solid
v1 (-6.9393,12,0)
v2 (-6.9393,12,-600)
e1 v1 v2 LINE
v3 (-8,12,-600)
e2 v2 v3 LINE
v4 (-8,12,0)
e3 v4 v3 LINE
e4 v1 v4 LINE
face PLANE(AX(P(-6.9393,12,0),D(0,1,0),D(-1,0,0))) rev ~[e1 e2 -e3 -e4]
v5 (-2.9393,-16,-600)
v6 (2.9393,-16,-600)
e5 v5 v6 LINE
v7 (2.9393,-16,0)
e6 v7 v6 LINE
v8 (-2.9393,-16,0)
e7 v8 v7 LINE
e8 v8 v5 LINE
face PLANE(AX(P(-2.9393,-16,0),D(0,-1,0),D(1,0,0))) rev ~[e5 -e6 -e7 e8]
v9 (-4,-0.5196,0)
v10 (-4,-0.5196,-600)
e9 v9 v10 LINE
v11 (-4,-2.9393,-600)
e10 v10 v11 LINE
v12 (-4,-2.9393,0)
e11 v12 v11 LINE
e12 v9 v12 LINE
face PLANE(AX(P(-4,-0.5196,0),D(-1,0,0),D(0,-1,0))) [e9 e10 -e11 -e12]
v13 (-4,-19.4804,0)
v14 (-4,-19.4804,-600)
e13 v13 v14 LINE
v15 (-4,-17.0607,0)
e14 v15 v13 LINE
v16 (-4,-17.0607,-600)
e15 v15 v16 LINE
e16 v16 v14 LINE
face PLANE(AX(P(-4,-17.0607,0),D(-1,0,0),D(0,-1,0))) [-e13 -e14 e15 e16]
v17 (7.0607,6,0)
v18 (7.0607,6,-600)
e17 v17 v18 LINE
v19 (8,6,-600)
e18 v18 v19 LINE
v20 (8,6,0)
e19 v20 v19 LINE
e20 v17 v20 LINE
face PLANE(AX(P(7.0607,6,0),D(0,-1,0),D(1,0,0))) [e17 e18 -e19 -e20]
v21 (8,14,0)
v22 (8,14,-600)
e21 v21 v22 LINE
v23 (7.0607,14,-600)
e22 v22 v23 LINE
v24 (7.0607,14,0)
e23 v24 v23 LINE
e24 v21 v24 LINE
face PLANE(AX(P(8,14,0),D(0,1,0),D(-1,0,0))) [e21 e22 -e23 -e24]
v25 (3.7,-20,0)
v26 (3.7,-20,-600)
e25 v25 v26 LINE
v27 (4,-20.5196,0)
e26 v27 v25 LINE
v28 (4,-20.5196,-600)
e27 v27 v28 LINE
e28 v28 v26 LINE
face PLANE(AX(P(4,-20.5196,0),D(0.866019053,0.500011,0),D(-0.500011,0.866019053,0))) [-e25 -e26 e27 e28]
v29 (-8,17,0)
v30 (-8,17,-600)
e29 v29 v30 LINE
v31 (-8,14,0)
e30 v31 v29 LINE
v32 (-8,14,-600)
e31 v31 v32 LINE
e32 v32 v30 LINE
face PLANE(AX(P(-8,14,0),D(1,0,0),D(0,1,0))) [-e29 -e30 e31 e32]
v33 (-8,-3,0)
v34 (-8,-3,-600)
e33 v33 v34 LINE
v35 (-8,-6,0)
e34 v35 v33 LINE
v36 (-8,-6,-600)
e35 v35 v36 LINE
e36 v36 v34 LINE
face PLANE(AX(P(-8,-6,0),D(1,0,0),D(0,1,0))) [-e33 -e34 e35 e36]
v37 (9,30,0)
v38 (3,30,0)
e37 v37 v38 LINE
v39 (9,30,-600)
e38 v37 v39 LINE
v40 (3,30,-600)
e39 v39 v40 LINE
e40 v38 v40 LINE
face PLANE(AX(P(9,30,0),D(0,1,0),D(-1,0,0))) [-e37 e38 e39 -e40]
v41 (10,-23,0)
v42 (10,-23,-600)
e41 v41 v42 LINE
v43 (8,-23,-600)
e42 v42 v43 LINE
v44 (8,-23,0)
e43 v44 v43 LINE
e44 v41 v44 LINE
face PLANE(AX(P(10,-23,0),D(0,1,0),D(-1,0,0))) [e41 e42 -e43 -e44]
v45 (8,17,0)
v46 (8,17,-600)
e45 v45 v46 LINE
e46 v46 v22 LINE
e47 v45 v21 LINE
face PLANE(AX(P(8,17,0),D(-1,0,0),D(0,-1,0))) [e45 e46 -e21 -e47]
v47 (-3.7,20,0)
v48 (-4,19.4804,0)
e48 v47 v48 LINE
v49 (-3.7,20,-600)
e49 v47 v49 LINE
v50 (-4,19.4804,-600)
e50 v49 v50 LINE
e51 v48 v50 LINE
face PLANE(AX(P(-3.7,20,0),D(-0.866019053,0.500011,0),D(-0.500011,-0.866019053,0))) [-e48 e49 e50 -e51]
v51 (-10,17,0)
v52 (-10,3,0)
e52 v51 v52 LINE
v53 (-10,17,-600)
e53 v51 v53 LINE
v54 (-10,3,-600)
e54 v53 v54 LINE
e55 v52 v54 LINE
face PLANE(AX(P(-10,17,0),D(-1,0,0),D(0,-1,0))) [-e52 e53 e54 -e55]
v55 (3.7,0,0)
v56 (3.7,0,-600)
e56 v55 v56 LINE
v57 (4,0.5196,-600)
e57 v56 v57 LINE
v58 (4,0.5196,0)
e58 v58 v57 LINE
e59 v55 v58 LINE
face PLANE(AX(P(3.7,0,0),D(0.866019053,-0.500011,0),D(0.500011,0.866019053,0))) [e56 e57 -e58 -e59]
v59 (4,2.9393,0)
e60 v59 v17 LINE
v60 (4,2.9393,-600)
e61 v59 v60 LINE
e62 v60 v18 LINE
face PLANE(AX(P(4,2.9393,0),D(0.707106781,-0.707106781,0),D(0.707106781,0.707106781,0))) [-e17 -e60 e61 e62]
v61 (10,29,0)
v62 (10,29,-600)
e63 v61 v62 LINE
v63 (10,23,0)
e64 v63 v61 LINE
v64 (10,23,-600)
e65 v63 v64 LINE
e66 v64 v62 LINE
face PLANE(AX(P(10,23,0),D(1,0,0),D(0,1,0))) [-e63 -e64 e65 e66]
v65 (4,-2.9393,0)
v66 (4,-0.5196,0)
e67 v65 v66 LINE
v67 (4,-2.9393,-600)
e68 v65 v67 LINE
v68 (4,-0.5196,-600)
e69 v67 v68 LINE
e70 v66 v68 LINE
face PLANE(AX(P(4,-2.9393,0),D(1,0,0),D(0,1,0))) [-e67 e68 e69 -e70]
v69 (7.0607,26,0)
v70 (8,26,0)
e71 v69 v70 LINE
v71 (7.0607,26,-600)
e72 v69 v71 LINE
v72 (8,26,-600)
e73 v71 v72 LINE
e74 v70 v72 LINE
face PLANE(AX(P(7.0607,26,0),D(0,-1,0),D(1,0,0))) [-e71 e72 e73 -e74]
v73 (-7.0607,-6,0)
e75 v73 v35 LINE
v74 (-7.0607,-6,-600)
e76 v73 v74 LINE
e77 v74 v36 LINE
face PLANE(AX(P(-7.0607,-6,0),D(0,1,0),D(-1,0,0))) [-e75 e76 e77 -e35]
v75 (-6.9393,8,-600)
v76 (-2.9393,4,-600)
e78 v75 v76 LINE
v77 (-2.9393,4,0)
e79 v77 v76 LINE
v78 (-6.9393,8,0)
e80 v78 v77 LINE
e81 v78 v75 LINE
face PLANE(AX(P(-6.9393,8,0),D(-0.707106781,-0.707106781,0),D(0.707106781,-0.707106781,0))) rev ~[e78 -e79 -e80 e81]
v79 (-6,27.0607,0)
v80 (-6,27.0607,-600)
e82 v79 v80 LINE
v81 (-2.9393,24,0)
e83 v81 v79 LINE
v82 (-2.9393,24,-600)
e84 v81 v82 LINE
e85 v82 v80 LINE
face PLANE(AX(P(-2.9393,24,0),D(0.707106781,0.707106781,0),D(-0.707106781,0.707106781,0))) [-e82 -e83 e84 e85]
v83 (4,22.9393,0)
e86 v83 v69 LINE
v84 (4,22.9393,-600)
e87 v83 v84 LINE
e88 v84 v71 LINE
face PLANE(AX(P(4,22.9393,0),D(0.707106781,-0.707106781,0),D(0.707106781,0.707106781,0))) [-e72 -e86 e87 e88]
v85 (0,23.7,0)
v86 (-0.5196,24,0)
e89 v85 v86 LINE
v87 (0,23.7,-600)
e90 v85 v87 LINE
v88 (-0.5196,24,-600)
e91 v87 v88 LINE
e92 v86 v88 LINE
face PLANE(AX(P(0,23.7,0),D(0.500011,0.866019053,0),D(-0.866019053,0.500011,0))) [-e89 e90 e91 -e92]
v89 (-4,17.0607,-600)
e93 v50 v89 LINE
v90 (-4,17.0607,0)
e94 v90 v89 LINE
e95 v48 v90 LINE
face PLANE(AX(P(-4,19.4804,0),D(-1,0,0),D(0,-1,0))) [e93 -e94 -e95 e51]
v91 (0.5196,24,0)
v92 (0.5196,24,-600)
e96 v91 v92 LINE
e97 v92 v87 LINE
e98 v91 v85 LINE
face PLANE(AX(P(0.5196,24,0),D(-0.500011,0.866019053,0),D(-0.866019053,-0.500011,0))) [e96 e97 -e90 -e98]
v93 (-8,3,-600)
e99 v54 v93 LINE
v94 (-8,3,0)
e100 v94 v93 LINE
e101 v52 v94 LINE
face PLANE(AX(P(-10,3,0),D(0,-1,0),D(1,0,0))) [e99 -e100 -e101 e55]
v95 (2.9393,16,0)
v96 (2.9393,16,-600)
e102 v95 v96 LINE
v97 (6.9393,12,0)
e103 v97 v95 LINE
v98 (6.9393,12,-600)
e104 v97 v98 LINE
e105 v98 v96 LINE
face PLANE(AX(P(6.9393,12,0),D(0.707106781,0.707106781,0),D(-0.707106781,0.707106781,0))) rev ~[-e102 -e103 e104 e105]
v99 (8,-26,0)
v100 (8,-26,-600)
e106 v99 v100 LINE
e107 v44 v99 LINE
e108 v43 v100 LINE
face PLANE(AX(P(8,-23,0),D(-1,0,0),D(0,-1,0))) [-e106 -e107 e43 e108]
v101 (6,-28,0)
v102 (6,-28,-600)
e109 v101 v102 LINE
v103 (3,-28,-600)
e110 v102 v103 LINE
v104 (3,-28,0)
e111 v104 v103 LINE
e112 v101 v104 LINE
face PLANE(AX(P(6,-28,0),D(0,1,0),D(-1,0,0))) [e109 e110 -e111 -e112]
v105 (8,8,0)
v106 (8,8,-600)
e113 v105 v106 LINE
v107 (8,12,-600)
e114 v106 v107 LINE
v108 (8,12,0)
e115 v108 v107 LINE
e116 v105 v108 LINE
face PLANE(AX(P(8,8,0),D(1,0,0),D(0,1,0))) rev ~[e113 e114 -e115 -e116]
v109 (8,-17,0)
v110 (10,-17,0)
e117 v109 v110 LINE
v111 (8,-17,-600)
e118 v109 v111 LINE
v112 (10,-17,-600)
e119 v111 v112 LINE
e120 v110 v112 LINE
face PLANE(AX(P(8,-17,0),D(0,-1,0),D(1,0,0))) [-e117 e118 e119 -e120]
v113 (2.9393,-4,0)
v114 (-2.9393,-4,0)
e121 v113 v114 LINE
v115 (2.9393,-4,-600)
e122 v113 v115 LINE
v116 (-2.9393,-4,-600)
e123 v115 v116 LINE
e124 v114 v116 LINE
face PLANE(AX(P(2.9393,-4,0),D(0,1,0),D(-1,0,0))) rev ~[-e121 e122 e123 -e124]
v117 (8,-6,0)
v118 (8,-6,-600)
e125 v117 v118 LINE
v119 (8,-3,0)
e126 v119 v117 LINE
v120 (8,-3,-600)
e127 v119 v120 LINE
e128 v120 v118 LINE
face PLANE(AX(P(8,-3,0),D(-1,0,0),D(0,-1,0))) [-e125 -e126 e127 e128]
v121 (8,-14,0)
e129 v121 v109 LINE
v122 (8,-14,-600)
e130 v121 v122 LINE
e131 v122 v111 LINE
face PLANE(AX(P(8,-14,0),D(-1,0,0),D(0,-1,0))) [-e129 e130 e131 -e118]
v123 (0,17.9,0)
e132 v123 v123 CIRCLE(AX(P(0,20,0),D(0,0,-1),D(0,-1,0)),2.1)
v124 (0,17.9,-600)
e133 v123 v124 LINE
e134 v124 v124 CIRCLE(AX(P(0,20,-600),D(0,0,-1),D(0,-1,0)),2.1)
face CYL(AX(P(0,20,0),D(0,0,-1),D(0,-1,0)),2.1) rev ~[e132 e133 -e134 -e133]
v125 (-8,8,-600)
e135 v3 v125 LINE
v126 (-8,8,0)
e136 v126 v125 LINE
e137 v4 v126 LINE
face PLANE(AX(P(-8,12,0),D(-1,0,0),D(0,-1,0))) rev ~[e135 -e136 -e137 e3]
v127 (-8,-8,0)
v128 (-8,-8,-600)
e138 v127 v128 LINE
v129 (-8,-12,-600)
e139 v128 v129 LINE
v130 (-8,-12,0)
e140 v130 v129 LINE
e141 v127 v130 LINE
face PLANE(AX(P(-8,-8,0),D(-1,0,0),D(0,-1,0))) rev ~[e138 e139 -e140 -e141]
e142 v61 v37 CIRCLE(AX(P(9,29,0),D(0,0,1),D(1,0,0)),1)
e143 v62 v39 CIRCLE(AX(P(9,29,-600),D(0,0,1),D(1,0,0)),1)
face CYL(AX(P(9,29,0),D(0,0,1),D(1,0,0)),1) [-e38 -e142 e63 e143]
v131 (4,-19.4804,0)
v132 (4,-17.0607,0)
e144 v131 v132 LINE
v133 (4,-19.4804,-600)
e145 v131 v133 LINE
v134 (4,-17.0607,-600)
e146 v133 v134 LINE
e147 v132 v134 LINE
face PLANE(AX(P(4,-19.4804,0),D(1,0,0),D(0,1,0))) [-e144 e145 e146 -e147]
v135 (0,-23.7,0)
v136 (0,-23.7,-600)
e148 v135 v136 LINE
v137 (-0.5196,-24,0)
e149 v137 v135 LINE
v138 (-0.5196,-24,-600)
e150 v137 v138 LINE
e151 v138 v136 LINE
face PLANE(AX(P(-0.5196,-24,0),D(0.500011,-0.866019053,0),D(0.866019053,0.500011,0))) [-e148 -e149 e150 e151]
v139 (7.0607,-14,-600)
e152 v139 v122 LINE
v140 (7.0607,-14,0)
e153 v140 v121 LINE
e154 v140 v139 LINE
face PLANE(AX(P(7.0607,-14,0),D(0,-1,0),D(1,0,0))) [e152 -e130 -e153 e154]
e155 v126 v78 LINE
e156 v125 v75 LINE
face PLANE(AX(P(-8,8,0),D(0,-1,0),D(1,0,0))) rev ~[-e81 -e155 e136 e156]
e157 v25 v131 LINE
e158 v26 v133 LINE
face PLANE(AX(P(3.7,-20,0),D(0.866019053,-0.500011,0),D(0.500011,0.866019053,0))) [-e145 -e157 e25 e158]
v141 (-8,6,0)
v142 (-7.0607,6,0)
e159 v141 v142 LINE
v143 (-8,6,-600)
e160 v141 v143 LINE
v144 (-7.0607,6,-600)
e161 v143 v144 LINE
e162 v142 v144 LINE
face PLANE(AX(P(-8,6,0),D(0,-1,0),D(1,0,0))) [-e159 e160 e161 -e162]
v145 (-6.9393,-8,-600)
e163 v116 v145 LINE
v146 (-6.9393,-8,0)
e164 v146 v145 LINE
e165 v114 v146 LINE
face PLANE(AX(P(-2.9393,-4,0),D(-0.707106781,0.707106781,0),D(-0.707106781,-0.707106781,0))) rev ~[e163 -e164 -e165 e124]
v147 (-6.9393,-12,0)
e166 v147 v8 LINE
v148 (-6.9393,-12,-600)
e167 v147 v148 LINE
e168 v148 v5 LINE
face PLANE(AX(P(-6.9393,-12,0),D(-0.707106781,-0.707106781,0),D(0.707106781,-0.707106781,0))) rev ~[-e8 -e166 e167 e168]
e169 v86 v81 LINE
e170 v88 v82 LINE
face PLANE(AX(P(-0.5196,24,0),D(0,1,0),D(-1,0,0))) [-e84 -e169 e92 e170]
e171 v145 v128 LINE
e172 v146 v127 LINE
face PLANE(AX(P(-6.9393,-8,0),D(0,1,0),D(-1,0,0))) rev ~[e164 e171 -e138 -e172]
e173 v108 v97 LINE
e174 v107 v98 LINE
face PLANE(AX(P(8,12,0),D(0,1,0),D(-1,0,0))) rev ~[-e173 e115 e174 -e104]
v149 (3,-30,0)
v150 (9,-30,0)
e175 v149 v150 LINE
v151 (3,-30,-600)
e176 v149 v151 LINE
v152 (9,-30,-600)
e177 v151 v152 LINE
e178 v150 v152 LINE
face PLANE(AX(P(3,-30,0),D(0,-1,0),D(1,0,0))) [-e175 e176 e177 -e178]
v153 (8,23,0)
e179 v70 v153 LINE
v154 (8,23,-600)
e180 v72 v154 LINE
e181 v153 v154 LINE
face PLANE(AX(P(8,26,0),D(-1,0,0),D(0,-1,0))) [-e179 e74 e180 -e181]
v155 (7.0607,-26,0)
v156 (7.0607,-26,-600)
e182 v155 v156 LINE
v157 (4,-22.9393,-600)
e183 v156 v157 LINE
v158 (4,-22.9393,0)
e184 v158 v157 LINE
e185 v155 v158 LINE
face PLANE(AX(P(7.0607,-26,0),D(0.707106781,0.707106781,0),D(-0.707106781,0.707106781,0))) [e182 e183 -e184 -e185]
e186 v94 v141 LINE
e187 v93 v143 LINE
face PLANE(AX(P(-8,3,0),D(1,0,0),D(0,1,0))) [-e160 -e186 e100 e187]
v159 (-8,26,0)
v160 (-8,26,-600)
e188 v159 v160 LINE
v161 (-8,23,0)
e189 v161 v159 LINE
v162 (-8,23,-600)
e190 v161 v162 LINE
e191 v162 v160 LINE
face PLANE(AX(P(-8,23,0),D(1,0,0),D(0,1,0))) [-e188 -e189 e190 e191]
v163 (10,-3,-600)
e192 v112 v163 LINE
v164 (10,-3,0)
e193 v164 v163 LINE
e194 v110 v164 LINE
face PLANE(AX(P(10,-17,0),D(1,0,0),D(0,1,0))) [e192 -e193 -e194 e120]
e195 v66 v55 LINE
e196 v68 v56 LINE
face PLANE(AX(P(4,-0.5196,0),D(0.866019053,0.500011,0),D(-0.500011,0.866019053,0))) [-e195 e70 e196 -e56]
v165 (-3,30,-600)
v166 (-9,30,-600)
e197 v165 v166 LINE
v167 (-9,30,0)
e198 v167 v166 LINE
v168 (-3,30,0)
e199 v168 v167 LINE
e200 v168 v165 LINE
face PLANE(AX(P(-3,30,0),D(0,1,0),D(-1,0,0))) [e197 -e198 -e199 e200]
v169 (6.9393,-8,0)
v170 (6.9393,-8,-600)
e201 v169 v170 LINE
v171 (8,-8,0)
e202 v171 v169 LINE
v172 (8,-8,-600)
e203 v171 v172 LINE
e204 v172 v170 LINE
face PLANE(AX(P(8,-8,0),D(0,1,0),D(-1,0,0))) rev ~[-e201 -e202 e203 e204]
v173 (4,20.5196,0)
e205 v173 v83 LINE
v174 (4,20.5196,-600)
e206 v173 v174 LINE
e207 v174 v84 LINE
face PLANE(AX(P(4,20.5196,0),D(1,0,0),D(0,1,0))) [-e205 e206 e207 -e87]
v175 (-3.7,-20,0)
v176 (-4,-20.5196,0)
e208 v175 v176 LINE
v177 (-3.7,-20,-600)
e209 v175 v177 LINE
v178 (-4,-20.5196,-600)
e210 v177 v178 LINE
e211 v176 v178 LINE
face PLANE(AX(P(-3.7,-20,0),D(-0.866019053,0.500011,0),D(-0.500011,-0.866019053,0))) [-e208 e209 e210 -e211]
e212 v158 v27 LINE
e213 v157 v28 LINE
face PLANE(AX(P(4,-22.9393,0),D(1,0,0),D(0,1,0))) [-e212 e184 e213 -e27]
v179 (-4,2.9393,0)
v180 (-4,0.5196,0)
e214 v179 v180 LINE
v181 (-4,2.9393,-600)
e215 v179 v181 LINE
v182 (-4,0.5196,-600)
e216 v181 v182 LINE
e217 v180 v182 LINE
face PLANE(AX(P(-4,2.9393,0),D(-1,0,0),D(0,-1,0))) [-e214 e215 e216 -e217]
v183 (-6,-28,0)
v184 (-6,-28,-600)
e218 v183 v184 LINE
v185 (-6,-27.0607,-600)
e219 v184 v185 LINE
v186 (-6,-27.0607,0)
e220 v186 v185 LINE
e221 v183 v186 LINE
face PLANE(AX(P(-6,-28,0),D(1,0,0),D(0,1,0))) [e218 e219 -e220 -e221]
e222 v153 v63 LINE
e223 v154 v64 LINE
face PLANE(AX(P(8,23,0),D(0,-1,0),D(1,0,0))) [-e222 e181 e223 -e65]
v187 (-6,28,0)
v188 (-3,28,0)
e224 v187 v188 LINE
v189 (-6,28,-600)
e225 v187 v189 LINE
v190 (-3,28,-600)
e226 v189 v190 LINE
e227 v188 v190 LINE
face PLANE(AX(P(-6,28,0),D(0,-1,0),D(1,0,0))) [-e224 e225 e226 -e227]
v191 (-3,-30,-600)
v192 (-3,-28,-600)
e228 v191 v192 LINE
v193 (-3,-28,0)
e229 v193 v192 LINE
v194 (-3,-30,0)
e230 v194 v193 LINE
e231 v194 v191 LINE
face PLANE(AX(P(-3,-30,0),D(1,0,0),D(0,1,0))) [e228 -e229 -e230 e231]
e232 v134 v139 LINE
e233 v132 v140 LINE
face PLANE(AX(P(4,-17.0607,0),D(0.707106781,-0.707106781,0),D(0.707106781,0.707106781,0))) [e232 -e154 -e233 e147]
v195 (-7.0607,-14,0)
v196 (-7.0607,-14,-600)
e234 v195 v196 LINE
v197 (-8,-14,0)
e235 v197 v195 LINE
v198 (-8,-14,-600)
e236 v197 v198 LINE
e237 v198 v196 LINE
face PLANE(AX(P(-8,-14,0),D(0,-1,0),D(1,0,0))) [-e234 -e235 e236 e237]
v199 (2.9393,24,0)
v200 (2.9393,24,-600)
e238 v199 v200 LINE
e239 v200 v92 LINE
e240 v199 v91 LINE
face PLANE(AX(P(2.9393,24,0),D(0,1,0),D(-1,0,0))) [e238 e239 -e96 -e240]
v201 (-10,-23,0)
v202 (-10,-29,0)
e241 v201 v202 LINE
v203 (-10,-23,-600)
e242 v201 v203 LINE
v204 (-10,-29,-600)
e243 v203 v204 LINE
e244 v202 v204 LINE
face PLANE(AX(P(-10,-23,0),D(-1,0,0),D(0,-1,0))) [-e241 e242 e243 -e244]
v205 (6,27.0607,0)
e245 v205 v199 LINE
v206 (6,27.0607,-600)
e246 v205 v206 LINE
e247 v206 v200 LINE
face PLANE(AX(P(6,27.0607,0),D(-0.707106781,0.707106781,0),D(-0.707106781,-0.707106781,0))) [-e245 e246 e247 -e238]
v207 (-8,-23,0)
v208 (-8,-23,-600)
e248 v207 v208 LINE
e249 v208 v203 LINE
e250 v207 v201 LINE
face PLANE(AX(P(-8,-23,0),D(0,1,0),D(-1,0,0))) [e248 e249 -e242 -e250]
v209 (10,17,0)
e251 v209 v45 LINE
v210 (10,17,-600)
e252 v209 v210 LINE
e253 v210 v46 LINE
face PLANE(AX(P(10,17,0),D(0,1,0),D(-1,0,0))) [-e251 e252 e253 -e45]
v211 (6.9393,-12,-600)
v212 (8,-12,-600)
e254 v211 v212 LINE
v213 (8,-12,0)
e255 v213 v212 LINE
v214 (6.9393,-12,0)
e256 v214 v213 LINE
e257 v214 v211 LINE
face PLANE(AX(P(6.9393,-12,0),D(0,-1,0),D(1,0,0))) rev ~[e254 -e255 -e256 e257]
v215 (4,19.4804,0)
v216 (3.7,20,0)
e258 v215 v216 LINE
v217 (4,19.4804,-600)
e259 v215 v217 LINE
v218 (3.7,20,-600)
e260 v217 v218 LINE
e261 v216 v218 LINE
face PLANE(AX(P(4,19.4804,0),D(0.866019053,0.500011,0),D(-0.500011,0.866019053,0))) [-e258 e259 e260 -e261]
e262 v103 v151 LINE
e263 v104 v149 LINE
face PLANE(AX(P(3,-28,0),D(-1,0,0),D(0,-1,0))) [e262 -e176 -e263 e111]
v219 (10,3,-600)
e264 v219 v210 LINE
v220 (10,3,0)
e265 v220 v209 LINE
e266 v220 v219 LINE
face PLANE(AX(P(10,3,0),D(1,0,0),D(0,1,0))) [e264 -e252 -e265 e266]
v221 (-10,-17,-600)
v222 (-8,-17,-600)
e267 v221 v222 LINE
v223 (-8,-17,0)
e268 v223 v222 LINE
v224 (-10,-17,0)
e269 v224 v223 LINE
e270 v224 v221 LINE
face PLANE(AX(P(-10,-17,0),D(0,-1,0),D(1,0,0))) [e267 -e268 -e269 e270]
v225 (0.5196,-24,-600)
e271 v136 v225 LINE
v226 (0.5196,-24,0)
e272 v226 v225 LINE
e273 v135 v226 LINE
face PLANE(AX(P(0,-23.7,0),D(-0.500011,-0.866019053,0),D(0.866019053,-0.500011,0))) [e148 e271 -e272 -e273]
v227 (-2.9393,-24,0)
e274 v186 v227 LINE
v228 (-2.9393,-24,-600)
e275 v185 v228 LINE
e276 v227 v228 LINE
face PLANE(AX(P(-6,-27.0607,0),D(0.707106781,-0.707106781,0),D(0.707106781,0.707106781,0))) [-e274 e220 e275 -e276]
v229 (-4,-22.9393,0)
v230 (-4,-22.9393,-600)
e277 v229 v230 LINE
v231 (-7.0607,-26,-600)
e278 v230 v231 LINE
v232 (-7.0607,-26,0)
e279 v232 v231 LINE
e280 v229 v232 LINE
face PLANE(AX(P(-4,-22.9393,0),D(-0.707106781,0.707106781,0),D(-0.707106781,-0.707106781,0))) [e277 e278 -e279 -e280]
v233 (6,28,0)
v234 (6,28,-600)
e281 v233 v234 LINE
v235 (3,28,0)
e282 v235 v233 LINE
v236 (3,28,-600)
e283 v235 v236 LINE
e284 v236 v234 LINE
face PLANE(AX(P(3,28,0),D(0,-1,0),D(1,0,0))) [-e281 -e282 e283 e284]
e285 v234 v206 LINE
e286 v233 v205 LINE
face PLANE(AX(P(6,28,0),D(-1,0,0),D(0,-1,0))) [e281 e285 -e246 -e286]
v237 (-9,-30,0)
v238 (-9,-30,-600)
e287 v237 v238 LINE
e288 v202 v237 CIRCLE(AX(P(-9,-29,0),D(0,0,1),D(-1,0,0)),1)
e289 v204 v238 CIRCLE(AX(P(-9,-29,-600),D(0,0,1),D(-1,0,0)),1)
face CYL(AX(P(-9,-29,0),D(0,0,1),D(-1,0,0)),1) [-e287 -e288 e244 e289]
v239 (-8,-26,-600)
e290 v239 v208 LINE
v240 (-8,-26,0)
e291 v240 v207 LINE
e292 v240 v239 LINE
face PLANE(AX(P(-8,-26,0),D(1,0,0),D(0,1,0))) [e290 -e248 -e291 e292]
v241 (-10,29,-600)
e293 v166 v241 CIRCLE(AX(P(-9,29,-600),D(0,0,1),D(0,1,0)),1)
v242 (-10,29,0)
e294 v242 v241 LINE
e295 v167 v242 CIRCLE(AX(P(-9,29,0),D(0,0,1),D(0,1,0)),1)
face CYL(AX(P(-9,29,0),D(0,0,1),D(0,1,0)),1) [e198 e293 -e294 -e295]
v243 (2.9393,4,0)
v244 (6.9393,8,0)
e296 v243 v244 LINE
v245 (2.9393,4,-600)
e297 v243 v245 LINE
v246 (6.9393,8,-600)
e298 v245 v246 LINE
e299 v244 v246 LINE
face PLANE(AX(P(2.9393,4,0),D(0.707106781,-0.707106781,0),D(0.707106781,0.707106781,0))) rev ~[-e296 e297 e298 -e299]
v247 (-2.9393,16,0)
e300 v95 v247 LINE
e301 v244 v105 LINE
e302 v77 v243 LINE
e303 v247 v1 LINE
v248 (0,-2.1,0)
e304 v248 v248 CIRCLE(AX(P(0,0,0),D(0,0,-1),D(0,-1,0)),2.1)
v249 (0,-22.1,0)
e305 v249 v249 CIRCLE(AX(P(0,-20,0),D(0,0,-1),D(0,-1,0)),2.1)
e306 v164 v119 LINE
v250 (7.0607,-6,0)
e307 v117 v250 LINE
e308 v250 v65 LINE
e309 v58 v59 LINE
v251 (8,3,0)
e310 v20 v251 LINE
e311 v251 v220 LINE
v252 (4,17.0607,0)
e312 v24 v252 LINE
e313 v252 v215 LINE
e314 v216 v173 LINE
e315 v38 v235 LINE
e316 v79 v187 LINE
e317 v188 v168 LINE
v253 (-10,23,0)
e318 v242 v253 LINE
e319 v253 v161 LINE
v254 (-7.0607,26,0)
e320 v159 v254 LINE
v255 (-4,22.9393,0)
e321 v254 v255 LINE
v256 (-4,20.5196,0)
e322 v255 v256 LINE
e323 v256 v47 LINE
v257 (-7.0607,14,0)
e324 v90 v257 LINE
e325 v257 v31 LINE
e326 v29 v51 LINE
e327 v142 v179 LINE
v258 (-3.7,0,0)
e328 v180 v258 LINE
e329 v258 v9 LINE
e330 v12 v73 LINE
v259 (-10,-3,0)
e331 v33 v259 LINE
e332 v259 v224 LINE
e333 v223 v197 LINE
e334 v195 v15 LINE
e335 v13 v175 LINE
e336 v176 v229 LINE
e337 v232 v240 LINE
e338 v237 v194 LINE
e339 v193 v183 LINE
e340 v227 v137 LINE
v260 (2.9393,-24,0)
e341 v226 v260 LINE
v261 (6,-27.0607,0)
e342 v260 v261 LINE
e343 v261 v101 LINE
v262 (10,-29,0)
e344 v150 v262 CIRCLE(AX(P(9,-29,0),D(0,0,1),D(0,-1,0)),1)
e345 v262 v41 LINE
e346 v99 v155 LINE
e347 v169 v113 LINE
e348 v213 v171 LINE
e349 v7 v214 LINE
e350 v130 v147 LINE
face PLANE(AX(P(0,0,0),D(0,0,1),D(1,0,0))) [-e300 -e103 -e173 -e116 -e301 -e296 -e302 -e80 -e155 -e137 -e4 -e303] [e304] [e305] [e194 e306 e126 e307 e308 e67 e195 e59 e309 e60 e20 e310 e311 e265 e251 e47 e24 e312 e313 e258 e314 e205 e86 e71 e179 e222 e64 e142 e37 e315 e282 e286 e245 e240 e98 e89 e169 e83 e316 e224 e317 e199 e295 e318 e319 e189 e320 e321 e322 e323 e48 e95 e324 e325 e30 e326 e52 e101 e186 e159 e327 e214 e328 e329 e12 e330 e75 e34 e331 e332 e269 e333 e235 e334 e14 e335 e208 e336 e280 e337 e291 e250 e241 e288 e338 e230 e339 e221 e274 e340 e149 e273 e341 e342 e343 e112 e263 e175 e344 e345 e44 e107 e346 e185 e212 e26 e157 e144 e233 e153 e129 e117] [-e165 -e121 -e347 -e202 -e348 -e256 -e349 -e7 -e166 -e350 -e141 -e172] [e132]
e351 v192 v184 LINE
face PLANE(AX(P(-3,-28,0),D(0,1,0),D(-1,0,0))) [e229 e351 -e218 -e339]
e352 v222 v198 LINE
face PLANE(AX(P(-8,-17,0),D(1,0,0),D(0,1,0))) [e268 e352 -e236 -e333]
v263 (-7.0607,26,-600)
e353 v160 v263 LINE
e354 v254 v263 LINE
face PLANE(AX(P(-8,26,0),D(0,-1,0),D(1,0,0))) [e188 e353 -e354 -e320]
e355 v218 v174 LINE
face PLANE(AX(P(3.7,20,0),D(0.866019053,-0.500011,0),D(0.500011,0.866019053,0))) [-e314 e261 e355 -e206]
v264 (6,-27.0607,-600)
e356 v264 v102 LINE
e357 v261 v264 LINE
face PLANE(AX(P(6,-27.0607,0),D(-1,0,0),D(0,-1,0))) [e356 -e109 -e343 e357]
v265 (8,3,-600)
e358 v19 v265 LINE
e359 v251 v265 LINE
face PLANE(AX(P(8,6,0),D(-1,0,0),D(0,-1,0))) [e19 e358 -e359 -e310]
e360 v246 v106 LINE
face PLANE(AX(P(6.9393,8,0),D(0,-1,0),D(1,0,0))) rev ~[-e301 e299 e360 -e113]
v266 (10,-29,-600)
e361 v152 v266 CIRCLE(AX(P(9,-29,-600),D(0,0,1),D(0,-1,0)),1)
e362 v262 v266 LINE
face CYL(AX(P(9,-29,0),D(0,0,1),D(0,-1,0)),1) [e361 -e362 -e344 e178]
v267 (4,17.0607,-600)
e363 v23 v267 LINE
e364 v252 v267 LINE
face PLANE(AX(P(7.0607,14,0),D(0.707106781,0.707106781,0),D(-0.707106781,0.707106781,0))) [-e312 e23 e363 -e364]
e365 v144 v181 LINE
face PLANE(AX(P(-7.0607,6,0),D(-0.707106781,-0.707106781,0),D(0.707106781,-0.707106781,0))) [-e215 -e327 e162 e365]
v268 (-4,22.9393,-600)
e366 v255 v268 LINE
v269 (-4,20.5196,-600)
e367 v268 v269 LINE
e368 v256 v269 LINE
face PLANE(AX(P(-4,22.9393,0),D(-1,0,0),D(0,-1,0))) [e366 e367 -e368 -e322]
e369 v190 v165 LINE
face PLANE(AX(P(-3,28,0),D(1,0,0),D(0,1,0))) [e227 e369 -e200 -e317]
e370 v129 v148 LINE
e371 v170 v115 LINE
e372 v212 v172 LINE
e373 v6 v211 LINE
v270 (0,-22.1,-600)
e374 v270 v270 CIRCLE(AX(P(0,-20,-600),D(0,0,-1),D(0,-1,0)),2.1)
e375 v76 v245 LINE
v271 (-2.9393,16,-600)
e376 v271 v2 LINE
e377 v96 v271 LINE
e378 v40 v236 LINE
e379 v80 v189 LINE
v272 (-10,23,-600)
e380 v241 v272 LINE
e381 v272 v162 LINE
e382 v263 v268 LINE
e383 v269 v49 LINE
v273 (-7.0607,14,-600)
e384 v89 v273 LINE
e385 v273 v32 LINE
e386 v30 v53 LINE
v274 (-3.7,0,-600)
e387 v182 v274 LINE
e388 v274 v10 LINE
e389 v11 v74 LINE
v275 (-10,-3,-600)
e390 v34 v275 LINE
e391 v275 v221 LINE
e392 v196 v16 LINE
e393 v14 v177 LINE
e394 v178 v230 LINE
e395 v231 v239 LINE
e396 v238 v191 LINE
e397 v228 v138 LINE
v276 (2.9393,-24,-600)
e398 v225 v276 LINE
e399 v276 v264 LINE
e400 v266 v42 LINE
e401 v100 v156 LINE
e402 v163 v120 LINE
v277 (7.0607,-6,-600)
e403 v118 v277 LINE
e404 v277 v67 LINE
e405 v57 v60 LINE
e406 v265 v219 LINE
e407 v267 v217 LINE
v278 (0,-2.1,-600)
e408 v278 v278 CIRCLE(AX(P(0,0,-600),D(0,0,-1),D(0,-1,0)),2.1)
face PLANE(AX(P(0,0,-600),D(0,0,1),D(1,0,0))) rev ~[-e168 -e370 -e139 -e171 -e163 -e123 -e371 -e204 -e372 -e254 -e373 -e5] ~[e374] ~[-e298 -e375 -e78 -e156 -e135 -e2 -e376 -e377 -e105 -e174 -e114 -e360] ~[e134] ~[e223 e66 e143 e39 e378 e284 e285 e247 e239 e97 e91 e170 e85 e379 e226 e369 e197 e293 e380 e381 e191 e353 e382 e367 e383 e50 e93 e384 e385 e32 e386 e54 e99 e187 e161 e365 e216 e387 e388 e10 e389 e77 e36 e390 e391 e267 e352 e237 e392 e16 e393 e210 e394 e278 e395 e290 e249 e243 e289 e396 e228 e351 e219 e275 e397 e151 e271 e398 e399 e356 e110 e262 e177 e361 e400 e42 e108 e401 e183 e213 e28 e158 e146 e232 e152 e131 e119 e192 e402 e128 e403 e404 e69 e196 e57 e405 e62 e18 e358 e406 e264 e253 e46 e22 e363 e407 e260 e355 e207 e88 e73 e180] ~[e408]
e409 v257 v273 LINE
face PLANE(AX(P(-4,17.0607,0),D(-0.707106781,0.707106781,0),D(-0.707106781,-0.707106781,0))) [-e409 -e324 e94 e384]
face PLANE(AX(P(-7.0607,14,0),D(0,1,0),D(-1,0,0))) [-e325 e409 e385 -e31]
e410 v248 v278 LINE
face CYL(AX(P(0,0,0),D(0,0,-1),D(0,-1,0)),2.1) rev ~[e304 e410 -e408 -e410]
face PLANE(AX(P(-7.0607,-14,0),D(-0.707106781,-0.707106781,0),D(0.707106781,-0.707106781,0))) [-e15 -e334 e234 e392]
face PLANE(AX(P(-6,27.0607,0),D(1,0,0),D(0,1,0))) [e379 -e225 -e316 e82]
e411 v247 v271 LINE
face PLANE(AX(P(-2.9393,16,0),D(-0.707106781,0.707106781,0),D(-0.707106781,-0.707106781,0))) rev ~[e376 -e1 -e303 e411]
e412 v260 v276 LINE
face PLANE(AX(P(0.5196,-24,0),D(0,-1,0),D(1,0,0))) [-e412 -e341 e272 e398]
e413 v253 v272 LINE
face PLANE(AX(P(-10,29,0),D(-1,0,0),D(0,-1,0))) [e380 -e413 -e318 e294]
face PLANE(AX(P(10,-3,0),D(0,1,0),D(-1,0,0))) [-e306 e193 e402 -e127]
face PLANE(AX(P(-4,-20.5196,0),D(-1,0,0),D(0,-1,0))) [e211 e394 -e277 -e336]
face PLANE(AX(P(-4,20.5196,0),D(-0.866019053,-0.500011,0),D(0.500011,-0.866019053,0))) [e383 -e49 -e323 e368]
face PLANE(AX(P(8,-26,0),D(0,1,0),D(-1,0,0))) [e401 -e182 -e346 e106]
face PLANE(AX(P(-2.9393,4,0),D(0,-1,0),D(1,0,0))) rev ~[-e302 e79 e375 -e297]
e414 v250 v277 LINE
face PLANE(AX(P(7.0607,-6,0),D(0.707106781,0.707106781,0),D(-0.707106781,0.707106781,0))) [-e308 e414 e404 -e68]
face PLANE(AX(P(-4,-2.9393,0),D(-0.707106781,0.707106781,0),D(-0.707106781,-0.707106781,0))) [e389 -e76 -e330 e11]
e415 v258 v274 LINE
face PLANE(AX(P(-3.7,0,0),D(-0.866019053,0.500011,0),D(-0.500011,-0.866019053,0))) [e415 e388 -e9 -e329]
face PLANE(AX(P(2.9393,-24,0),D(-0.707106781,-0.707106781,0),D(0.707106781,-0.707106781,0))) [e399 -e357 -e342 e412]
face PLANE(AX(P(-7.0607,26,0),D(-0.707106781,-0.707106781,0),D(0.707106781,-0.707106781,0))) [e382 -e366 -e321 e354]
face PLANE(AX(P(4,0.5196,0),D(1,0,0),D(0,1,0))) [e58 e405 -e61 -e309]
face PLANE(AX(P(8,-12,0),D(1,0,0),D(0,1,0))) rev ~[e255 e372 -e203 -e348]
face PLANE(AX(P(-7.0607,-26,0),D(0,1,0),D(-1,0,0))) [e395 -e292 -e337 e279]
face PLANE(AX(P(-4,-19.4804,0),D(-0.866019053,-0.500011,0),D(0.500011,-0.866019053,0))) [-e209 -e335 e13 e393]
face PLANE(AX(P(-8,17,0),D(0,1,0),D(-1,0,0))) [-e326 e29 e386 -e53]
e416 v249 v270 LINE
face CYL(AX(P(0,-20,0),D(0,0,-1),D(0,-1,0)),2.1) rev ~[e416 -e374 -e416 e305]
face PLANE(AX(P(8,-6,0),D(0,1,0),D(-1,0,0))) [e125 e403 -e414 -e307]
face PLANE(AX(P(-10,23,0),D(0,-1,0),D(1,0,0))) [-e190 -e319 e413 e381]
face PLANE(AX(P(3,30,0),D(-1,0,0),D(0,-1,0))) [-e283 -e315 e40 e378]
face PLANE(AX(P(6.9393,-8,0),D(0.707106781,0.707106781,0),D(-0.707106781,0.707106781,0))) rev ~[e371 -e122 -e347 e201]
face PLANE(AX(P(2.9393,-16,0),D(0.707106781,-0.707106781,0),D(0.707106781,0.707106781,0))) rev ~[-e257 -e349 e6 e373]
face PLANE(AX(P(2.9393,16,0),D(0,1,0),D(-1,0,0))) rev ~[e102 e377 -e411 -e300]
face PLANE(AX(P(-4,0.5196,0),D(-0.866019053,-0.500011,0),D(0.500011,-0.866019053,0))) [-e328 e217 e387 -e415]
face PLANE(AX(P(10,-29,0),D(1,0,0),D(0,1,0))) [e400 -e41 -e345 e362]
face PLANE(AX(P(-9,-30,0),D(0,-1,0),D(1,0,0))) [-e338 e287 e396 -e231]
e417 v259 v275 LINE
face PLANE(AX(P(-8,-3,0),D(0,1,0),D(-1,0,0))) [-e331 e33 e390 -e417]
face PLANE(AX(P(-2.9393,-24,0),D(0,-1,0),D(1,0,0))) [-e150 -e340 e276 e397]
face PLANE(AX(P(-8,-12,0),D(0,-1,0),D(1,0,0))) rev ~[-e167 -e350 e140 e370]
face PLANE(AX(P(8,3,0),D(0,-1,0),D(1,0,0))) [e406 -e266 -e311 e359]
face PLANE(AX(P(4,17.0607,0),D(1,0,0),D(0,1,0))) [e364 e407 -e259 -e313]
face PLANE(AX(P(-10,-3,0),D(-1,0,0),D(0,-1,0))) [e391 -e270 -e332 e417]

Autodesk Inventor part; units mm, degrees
ref_plane "YZ Plane" through (0, 0, 0) normal (1, 0, 0) x (0, 1, 0)
ref_plane "XZ Plane" through (0, 0, 0) normal (0, 1, 0) x (-1, 0, 0)
ref_plane "XY Plane" through (0, 0, 0) normal (0, 0, 1) x (1, 0, 0)
sketch "Sketch_100" plane through (0, 0, 0) normal (0, 0, 1) x (1, 0, 0)
  line L0 (-10, -17) -> (-8, -17)
  line L1 (-8, -17) -> (-8, -14)
  line L2 (-8, -14) -> (-7.0607, -14)
  line L3 (-7.0607, -14) -> (-4, -17.0607)
  line L4 (-4, -17.0607) -> (-4, -19.4804)
  line L5 (-4, -19.4804) -> (-3.7, -20)
  line L6 (-3.7, -20) -> (-4, -20.5196)
  line L7 (-4, -20.5196) -> (-4, -22.9393)
  line L8 (-4, -22.9393) -> (-7.0607, -26)
  line L9 (-7.0607, -26) -> (-8, -26)
  line L10 (-8, -26) -> (-8, -23)
  line L11 (-8, -23) -> (-10, -23)
  line L12 (-10, -23) -> (-10, -29)
  arc A0 (-10, -29) -> (-9, -30) centre (-9, -29) ccw
  line L13 (-9, -30) -> (-3, -30)
  line L14 (-3, -30) -> (-3, -28)
  line L15 (-3, -28) -> (-6, -28)
  line L16 (-6, -28) -> (-6, -27.0607)
  line L17 (-6, -27.0607) -> (-2.9393, -24)
  line L18 (-2.9393, -24) -> (-0.5196, -24)
  line L19 (-0.5196, -24) -> (0, -23.7)
  line L20 (0, -23.7) -> (0.5196, -24)
  line L21 (0.5196, -24) -> (2.9393, -24)
  line L22 (2.9393, -24) -> (6, -27.0607)
  line L23 (6, -27.0607) -> (6, -28)
  line L24 (6, -28) -> (3, -28)
  line L25 (3, -28) -> (3, -30)
  line L26 (3, -30) -> (9, -30)
  arc A1 (9, -30) -> (10, -29) centre (9, -29) ccw
  line L27 (10, -29) -> (10, -23)
  line L28 (10, -23) -> (8, -23)
  line L29 (8, -23) -> (8, -26)
  line L30 (8, -26) -> (7.0607, -26)
  line L31 (7.0607, -26) -> (4, -22.9393)
  line L32 (4, -22.9393) -> (4, -20.5196)
  line L33 (4, -20.5196) -> (3.7, -20)
  line L34 (3.7, -20) -> (4, -19.4804)
  line L35 (4, -19.4804) -> (4, -17.0607)
  line L36 (4, -17.0607) -> (7.0607, -14)
  line L37 (7.0607, -14) -> (8, -14)
  line L38 (8, -14) -> (8, -17)
  line L39 (8, -17) -> (10, -17)
  line L40 (10, -17) -> (10, -3)
  line L41 (10, -3) -> (8, -3)
  line L42 (8, -3) -> (8, -6)
  line L43 (8, -6) -> (7.0607, -6)
  line L44 (7.0607, -6) -> (4, -2.9393)
  line L45 (4, -2.9393) -> (4, -0.5196)
  line L46 (4, -0.5196) -> (3.7, 0)
  line L47 (3.7, 0) -> (4, 0.5196)
  line L48 (4, 0.5196) -> (4, 2.9393)
  line L49 (4, 2.9393) -> (7.0607, 6)
  line L50 (7.0607, 6) -> (8, 6)
  line L51 (8, 6) -> (8, 3)
  line L52 (8, 3) -> (10, 3)
  line L53 (10, 3) -> (10, 17)
  line L54 (10, 17) -> (8, 17)
  line L55 (8, 17) -> (8, 14)
  line L56 (8, 14) -> (7.0607, 14)
  line L57 (7.0607, 14) -> (4, 17.0607)
  line L58 (4, 17.0607) -> (4, 19.4804)
  line L59 (4, 19.4804) -> (3.7, 20)
  line L60 (3.7, 20) -> (4, 20.5196)
  line L61 (4, 20.5196) -> (4, 22.9393)
  line L62 (4, 22.9393) -> (7.0607, 26)
  line L63 (7.0607, 26) -> (8, 26)
  line L64 (8, 26) -> (8, 23)
  line L65 (8, 23) -> (10, 23)
  line L66 (10, 23) -> (10, 29)
  arc A2 (10, 29) -> (9, 30) centre (9, 29) ccw
  line L67 (9, 30) -> (3, 30)
  line L68 (3, 30) -> (3, 28)
  line L69 (3, 28) -> (6, 28)
  line L70 (6, 28) -> (6, 27.0607)
  line L71 (6, 27.0607) -> (2.9393, 24)
  line L72 (2.9393, 24) -> (0.5196, 24)
  line L73 (0.5196, 24) -> (0, 23.7)
  line L74 (0, 23.7) -> (-0.5196, 24)
  line L75 (-0.5196, 24) -> (-2.9393, 24)
  line L76 (-2.9393, 24) -> (-6, 27.0607)
  line L77 (-6, 27.0607) -> (-6, 28)
  line L78 (-6, 28) -> (-3, 28)
  line L79 (-3, 28) -> (-3, 30)
  line L80 (-3, 30) -> (-9, 30)
  arc A3 (-9, 30) -> (-10, 29) centre (-9, 29) ccw
  line L81 (-10, 29) -> (-10, 23)
  line L82 (-10, 23) -> (-8, 23)
  line L83 (-8, 23) -> (-8, 26)
  line L84 (-8, 26) -> (-7.0607, 26)
  line L85 (-7.0607, 26) -> (-4, 22.9393)
  line L86 (-4, 22.9393) -> (-4, 20.5196)
  line L87 (-4, 20.5196) -> (-3.7, 20)
  line L88 (-3.7, 20) -> (-4, 19.4804)
  line L89 (-4, 19.4804) -> (-4, 17.0607)
  line L90 (-4, 17.0607) -> (-7.0607, 14)
  line L91 (-7.0607, 14) -> (-8, 14)
  line L92 (-8, 14) -> (-8, 17)
  line L93 (-8, 17) -> (-10, 17)
  line L94 (-10, 17) -> (-10, 3)
  line L95 (-10, 3) -> (-8, 3)
  line L96 (-8, 3) -> (-8, 6)
  line L97 (-8, 6) -> (-7.0607, 6)
  line L98 (-7.0607, 6) -> (-4, 2.9393)
  line L99 (-4, 2.9393) -> (-4, 0.5196)
  line L100 (-4, 0.5196) -> (-3.7, 0)
  line L101 (-3.7, 0) -> (-4, -0.5196)
  line L102 (-4, -0.5196) -> (-4, -2.9393)
  line L103 (-4, -2.9393) -> (-7.0607, -6)
  line L104 (-7.0607, -6) -> (-8, -6)
  line L105 (-8, -6) -> (-8, -3)
  line L106 (-8, -3) -> (-10, -3)
  line L107 (-10, -3) -> (-10, -17)
  line L108 (-8, 8) -> (-6.9393, 8)
  line L109 (-6.9393, 8) -> (-2.9393, 4)
  line L110 (-2.9393, 4) -> (2.9393, 4)
  line L111 (2.9393, 4) -> (6.9393, 8)
  line L112 (6.9393, 8) -> (8, 8)
  line L113 (8, 8) -> (8, 12)
  line L114 (8, 12) -> (6.9393, 12)
  line L115 (6.9393, 12) -> (2.9393, 16)
  line L116 (2.9393, 16) -> (-2.9393, 16)
  line L117 (-2.9393, 16) -> (-6.9393, 12)
  line L118 (-6.9393, 12) -> (-8, 12)
  line L119 (-8, 12) -> (-8, 8)
  line L120 (-8, -8) -> (-8, -12)
  line L121 (-8, -12) -> (-6.9393, -12)
  line L122 (-6.9393, -12) -> (-2.9393, -16)
  line L123 (-2.9393, -16) -> (2.9393, -16)
  line L124 (2.9393, -16) -> (6.9393, -12)
  line L125 (6.9393, -12) -> (8, -12)
  line L126 (8, -12) -> (8, -8)
  line L127 (8, -8) -> (6.9393, -8)
  line L128 (6.9393, -8) -> (2.9393, -4)
  line L129 (2.9393, -4) -> (-2.9393, -4)
  line L130 (-2.9393, -4) -> (-6.9393, -8)
  line L131 (-6.9393, -8) -> (-8, -8)
extrude "Extrusion1" add sketch "Sketch_100" against normal blind 600
sketch "Sketch2" plane through (0, 0, 0) normal (0, 0, 1) x (1, 0, 0)
  point P0 (0, 20)
hole "Hole1" at (0, 20, 0) direction (0, 0, -1) diameter 4.2 depth 600
pattern_linear "Rectangular Pattern1" count 3 spacing 20 along (0, -1, 0) of "Hole1"
properties part number "HFS5-2060-600"
